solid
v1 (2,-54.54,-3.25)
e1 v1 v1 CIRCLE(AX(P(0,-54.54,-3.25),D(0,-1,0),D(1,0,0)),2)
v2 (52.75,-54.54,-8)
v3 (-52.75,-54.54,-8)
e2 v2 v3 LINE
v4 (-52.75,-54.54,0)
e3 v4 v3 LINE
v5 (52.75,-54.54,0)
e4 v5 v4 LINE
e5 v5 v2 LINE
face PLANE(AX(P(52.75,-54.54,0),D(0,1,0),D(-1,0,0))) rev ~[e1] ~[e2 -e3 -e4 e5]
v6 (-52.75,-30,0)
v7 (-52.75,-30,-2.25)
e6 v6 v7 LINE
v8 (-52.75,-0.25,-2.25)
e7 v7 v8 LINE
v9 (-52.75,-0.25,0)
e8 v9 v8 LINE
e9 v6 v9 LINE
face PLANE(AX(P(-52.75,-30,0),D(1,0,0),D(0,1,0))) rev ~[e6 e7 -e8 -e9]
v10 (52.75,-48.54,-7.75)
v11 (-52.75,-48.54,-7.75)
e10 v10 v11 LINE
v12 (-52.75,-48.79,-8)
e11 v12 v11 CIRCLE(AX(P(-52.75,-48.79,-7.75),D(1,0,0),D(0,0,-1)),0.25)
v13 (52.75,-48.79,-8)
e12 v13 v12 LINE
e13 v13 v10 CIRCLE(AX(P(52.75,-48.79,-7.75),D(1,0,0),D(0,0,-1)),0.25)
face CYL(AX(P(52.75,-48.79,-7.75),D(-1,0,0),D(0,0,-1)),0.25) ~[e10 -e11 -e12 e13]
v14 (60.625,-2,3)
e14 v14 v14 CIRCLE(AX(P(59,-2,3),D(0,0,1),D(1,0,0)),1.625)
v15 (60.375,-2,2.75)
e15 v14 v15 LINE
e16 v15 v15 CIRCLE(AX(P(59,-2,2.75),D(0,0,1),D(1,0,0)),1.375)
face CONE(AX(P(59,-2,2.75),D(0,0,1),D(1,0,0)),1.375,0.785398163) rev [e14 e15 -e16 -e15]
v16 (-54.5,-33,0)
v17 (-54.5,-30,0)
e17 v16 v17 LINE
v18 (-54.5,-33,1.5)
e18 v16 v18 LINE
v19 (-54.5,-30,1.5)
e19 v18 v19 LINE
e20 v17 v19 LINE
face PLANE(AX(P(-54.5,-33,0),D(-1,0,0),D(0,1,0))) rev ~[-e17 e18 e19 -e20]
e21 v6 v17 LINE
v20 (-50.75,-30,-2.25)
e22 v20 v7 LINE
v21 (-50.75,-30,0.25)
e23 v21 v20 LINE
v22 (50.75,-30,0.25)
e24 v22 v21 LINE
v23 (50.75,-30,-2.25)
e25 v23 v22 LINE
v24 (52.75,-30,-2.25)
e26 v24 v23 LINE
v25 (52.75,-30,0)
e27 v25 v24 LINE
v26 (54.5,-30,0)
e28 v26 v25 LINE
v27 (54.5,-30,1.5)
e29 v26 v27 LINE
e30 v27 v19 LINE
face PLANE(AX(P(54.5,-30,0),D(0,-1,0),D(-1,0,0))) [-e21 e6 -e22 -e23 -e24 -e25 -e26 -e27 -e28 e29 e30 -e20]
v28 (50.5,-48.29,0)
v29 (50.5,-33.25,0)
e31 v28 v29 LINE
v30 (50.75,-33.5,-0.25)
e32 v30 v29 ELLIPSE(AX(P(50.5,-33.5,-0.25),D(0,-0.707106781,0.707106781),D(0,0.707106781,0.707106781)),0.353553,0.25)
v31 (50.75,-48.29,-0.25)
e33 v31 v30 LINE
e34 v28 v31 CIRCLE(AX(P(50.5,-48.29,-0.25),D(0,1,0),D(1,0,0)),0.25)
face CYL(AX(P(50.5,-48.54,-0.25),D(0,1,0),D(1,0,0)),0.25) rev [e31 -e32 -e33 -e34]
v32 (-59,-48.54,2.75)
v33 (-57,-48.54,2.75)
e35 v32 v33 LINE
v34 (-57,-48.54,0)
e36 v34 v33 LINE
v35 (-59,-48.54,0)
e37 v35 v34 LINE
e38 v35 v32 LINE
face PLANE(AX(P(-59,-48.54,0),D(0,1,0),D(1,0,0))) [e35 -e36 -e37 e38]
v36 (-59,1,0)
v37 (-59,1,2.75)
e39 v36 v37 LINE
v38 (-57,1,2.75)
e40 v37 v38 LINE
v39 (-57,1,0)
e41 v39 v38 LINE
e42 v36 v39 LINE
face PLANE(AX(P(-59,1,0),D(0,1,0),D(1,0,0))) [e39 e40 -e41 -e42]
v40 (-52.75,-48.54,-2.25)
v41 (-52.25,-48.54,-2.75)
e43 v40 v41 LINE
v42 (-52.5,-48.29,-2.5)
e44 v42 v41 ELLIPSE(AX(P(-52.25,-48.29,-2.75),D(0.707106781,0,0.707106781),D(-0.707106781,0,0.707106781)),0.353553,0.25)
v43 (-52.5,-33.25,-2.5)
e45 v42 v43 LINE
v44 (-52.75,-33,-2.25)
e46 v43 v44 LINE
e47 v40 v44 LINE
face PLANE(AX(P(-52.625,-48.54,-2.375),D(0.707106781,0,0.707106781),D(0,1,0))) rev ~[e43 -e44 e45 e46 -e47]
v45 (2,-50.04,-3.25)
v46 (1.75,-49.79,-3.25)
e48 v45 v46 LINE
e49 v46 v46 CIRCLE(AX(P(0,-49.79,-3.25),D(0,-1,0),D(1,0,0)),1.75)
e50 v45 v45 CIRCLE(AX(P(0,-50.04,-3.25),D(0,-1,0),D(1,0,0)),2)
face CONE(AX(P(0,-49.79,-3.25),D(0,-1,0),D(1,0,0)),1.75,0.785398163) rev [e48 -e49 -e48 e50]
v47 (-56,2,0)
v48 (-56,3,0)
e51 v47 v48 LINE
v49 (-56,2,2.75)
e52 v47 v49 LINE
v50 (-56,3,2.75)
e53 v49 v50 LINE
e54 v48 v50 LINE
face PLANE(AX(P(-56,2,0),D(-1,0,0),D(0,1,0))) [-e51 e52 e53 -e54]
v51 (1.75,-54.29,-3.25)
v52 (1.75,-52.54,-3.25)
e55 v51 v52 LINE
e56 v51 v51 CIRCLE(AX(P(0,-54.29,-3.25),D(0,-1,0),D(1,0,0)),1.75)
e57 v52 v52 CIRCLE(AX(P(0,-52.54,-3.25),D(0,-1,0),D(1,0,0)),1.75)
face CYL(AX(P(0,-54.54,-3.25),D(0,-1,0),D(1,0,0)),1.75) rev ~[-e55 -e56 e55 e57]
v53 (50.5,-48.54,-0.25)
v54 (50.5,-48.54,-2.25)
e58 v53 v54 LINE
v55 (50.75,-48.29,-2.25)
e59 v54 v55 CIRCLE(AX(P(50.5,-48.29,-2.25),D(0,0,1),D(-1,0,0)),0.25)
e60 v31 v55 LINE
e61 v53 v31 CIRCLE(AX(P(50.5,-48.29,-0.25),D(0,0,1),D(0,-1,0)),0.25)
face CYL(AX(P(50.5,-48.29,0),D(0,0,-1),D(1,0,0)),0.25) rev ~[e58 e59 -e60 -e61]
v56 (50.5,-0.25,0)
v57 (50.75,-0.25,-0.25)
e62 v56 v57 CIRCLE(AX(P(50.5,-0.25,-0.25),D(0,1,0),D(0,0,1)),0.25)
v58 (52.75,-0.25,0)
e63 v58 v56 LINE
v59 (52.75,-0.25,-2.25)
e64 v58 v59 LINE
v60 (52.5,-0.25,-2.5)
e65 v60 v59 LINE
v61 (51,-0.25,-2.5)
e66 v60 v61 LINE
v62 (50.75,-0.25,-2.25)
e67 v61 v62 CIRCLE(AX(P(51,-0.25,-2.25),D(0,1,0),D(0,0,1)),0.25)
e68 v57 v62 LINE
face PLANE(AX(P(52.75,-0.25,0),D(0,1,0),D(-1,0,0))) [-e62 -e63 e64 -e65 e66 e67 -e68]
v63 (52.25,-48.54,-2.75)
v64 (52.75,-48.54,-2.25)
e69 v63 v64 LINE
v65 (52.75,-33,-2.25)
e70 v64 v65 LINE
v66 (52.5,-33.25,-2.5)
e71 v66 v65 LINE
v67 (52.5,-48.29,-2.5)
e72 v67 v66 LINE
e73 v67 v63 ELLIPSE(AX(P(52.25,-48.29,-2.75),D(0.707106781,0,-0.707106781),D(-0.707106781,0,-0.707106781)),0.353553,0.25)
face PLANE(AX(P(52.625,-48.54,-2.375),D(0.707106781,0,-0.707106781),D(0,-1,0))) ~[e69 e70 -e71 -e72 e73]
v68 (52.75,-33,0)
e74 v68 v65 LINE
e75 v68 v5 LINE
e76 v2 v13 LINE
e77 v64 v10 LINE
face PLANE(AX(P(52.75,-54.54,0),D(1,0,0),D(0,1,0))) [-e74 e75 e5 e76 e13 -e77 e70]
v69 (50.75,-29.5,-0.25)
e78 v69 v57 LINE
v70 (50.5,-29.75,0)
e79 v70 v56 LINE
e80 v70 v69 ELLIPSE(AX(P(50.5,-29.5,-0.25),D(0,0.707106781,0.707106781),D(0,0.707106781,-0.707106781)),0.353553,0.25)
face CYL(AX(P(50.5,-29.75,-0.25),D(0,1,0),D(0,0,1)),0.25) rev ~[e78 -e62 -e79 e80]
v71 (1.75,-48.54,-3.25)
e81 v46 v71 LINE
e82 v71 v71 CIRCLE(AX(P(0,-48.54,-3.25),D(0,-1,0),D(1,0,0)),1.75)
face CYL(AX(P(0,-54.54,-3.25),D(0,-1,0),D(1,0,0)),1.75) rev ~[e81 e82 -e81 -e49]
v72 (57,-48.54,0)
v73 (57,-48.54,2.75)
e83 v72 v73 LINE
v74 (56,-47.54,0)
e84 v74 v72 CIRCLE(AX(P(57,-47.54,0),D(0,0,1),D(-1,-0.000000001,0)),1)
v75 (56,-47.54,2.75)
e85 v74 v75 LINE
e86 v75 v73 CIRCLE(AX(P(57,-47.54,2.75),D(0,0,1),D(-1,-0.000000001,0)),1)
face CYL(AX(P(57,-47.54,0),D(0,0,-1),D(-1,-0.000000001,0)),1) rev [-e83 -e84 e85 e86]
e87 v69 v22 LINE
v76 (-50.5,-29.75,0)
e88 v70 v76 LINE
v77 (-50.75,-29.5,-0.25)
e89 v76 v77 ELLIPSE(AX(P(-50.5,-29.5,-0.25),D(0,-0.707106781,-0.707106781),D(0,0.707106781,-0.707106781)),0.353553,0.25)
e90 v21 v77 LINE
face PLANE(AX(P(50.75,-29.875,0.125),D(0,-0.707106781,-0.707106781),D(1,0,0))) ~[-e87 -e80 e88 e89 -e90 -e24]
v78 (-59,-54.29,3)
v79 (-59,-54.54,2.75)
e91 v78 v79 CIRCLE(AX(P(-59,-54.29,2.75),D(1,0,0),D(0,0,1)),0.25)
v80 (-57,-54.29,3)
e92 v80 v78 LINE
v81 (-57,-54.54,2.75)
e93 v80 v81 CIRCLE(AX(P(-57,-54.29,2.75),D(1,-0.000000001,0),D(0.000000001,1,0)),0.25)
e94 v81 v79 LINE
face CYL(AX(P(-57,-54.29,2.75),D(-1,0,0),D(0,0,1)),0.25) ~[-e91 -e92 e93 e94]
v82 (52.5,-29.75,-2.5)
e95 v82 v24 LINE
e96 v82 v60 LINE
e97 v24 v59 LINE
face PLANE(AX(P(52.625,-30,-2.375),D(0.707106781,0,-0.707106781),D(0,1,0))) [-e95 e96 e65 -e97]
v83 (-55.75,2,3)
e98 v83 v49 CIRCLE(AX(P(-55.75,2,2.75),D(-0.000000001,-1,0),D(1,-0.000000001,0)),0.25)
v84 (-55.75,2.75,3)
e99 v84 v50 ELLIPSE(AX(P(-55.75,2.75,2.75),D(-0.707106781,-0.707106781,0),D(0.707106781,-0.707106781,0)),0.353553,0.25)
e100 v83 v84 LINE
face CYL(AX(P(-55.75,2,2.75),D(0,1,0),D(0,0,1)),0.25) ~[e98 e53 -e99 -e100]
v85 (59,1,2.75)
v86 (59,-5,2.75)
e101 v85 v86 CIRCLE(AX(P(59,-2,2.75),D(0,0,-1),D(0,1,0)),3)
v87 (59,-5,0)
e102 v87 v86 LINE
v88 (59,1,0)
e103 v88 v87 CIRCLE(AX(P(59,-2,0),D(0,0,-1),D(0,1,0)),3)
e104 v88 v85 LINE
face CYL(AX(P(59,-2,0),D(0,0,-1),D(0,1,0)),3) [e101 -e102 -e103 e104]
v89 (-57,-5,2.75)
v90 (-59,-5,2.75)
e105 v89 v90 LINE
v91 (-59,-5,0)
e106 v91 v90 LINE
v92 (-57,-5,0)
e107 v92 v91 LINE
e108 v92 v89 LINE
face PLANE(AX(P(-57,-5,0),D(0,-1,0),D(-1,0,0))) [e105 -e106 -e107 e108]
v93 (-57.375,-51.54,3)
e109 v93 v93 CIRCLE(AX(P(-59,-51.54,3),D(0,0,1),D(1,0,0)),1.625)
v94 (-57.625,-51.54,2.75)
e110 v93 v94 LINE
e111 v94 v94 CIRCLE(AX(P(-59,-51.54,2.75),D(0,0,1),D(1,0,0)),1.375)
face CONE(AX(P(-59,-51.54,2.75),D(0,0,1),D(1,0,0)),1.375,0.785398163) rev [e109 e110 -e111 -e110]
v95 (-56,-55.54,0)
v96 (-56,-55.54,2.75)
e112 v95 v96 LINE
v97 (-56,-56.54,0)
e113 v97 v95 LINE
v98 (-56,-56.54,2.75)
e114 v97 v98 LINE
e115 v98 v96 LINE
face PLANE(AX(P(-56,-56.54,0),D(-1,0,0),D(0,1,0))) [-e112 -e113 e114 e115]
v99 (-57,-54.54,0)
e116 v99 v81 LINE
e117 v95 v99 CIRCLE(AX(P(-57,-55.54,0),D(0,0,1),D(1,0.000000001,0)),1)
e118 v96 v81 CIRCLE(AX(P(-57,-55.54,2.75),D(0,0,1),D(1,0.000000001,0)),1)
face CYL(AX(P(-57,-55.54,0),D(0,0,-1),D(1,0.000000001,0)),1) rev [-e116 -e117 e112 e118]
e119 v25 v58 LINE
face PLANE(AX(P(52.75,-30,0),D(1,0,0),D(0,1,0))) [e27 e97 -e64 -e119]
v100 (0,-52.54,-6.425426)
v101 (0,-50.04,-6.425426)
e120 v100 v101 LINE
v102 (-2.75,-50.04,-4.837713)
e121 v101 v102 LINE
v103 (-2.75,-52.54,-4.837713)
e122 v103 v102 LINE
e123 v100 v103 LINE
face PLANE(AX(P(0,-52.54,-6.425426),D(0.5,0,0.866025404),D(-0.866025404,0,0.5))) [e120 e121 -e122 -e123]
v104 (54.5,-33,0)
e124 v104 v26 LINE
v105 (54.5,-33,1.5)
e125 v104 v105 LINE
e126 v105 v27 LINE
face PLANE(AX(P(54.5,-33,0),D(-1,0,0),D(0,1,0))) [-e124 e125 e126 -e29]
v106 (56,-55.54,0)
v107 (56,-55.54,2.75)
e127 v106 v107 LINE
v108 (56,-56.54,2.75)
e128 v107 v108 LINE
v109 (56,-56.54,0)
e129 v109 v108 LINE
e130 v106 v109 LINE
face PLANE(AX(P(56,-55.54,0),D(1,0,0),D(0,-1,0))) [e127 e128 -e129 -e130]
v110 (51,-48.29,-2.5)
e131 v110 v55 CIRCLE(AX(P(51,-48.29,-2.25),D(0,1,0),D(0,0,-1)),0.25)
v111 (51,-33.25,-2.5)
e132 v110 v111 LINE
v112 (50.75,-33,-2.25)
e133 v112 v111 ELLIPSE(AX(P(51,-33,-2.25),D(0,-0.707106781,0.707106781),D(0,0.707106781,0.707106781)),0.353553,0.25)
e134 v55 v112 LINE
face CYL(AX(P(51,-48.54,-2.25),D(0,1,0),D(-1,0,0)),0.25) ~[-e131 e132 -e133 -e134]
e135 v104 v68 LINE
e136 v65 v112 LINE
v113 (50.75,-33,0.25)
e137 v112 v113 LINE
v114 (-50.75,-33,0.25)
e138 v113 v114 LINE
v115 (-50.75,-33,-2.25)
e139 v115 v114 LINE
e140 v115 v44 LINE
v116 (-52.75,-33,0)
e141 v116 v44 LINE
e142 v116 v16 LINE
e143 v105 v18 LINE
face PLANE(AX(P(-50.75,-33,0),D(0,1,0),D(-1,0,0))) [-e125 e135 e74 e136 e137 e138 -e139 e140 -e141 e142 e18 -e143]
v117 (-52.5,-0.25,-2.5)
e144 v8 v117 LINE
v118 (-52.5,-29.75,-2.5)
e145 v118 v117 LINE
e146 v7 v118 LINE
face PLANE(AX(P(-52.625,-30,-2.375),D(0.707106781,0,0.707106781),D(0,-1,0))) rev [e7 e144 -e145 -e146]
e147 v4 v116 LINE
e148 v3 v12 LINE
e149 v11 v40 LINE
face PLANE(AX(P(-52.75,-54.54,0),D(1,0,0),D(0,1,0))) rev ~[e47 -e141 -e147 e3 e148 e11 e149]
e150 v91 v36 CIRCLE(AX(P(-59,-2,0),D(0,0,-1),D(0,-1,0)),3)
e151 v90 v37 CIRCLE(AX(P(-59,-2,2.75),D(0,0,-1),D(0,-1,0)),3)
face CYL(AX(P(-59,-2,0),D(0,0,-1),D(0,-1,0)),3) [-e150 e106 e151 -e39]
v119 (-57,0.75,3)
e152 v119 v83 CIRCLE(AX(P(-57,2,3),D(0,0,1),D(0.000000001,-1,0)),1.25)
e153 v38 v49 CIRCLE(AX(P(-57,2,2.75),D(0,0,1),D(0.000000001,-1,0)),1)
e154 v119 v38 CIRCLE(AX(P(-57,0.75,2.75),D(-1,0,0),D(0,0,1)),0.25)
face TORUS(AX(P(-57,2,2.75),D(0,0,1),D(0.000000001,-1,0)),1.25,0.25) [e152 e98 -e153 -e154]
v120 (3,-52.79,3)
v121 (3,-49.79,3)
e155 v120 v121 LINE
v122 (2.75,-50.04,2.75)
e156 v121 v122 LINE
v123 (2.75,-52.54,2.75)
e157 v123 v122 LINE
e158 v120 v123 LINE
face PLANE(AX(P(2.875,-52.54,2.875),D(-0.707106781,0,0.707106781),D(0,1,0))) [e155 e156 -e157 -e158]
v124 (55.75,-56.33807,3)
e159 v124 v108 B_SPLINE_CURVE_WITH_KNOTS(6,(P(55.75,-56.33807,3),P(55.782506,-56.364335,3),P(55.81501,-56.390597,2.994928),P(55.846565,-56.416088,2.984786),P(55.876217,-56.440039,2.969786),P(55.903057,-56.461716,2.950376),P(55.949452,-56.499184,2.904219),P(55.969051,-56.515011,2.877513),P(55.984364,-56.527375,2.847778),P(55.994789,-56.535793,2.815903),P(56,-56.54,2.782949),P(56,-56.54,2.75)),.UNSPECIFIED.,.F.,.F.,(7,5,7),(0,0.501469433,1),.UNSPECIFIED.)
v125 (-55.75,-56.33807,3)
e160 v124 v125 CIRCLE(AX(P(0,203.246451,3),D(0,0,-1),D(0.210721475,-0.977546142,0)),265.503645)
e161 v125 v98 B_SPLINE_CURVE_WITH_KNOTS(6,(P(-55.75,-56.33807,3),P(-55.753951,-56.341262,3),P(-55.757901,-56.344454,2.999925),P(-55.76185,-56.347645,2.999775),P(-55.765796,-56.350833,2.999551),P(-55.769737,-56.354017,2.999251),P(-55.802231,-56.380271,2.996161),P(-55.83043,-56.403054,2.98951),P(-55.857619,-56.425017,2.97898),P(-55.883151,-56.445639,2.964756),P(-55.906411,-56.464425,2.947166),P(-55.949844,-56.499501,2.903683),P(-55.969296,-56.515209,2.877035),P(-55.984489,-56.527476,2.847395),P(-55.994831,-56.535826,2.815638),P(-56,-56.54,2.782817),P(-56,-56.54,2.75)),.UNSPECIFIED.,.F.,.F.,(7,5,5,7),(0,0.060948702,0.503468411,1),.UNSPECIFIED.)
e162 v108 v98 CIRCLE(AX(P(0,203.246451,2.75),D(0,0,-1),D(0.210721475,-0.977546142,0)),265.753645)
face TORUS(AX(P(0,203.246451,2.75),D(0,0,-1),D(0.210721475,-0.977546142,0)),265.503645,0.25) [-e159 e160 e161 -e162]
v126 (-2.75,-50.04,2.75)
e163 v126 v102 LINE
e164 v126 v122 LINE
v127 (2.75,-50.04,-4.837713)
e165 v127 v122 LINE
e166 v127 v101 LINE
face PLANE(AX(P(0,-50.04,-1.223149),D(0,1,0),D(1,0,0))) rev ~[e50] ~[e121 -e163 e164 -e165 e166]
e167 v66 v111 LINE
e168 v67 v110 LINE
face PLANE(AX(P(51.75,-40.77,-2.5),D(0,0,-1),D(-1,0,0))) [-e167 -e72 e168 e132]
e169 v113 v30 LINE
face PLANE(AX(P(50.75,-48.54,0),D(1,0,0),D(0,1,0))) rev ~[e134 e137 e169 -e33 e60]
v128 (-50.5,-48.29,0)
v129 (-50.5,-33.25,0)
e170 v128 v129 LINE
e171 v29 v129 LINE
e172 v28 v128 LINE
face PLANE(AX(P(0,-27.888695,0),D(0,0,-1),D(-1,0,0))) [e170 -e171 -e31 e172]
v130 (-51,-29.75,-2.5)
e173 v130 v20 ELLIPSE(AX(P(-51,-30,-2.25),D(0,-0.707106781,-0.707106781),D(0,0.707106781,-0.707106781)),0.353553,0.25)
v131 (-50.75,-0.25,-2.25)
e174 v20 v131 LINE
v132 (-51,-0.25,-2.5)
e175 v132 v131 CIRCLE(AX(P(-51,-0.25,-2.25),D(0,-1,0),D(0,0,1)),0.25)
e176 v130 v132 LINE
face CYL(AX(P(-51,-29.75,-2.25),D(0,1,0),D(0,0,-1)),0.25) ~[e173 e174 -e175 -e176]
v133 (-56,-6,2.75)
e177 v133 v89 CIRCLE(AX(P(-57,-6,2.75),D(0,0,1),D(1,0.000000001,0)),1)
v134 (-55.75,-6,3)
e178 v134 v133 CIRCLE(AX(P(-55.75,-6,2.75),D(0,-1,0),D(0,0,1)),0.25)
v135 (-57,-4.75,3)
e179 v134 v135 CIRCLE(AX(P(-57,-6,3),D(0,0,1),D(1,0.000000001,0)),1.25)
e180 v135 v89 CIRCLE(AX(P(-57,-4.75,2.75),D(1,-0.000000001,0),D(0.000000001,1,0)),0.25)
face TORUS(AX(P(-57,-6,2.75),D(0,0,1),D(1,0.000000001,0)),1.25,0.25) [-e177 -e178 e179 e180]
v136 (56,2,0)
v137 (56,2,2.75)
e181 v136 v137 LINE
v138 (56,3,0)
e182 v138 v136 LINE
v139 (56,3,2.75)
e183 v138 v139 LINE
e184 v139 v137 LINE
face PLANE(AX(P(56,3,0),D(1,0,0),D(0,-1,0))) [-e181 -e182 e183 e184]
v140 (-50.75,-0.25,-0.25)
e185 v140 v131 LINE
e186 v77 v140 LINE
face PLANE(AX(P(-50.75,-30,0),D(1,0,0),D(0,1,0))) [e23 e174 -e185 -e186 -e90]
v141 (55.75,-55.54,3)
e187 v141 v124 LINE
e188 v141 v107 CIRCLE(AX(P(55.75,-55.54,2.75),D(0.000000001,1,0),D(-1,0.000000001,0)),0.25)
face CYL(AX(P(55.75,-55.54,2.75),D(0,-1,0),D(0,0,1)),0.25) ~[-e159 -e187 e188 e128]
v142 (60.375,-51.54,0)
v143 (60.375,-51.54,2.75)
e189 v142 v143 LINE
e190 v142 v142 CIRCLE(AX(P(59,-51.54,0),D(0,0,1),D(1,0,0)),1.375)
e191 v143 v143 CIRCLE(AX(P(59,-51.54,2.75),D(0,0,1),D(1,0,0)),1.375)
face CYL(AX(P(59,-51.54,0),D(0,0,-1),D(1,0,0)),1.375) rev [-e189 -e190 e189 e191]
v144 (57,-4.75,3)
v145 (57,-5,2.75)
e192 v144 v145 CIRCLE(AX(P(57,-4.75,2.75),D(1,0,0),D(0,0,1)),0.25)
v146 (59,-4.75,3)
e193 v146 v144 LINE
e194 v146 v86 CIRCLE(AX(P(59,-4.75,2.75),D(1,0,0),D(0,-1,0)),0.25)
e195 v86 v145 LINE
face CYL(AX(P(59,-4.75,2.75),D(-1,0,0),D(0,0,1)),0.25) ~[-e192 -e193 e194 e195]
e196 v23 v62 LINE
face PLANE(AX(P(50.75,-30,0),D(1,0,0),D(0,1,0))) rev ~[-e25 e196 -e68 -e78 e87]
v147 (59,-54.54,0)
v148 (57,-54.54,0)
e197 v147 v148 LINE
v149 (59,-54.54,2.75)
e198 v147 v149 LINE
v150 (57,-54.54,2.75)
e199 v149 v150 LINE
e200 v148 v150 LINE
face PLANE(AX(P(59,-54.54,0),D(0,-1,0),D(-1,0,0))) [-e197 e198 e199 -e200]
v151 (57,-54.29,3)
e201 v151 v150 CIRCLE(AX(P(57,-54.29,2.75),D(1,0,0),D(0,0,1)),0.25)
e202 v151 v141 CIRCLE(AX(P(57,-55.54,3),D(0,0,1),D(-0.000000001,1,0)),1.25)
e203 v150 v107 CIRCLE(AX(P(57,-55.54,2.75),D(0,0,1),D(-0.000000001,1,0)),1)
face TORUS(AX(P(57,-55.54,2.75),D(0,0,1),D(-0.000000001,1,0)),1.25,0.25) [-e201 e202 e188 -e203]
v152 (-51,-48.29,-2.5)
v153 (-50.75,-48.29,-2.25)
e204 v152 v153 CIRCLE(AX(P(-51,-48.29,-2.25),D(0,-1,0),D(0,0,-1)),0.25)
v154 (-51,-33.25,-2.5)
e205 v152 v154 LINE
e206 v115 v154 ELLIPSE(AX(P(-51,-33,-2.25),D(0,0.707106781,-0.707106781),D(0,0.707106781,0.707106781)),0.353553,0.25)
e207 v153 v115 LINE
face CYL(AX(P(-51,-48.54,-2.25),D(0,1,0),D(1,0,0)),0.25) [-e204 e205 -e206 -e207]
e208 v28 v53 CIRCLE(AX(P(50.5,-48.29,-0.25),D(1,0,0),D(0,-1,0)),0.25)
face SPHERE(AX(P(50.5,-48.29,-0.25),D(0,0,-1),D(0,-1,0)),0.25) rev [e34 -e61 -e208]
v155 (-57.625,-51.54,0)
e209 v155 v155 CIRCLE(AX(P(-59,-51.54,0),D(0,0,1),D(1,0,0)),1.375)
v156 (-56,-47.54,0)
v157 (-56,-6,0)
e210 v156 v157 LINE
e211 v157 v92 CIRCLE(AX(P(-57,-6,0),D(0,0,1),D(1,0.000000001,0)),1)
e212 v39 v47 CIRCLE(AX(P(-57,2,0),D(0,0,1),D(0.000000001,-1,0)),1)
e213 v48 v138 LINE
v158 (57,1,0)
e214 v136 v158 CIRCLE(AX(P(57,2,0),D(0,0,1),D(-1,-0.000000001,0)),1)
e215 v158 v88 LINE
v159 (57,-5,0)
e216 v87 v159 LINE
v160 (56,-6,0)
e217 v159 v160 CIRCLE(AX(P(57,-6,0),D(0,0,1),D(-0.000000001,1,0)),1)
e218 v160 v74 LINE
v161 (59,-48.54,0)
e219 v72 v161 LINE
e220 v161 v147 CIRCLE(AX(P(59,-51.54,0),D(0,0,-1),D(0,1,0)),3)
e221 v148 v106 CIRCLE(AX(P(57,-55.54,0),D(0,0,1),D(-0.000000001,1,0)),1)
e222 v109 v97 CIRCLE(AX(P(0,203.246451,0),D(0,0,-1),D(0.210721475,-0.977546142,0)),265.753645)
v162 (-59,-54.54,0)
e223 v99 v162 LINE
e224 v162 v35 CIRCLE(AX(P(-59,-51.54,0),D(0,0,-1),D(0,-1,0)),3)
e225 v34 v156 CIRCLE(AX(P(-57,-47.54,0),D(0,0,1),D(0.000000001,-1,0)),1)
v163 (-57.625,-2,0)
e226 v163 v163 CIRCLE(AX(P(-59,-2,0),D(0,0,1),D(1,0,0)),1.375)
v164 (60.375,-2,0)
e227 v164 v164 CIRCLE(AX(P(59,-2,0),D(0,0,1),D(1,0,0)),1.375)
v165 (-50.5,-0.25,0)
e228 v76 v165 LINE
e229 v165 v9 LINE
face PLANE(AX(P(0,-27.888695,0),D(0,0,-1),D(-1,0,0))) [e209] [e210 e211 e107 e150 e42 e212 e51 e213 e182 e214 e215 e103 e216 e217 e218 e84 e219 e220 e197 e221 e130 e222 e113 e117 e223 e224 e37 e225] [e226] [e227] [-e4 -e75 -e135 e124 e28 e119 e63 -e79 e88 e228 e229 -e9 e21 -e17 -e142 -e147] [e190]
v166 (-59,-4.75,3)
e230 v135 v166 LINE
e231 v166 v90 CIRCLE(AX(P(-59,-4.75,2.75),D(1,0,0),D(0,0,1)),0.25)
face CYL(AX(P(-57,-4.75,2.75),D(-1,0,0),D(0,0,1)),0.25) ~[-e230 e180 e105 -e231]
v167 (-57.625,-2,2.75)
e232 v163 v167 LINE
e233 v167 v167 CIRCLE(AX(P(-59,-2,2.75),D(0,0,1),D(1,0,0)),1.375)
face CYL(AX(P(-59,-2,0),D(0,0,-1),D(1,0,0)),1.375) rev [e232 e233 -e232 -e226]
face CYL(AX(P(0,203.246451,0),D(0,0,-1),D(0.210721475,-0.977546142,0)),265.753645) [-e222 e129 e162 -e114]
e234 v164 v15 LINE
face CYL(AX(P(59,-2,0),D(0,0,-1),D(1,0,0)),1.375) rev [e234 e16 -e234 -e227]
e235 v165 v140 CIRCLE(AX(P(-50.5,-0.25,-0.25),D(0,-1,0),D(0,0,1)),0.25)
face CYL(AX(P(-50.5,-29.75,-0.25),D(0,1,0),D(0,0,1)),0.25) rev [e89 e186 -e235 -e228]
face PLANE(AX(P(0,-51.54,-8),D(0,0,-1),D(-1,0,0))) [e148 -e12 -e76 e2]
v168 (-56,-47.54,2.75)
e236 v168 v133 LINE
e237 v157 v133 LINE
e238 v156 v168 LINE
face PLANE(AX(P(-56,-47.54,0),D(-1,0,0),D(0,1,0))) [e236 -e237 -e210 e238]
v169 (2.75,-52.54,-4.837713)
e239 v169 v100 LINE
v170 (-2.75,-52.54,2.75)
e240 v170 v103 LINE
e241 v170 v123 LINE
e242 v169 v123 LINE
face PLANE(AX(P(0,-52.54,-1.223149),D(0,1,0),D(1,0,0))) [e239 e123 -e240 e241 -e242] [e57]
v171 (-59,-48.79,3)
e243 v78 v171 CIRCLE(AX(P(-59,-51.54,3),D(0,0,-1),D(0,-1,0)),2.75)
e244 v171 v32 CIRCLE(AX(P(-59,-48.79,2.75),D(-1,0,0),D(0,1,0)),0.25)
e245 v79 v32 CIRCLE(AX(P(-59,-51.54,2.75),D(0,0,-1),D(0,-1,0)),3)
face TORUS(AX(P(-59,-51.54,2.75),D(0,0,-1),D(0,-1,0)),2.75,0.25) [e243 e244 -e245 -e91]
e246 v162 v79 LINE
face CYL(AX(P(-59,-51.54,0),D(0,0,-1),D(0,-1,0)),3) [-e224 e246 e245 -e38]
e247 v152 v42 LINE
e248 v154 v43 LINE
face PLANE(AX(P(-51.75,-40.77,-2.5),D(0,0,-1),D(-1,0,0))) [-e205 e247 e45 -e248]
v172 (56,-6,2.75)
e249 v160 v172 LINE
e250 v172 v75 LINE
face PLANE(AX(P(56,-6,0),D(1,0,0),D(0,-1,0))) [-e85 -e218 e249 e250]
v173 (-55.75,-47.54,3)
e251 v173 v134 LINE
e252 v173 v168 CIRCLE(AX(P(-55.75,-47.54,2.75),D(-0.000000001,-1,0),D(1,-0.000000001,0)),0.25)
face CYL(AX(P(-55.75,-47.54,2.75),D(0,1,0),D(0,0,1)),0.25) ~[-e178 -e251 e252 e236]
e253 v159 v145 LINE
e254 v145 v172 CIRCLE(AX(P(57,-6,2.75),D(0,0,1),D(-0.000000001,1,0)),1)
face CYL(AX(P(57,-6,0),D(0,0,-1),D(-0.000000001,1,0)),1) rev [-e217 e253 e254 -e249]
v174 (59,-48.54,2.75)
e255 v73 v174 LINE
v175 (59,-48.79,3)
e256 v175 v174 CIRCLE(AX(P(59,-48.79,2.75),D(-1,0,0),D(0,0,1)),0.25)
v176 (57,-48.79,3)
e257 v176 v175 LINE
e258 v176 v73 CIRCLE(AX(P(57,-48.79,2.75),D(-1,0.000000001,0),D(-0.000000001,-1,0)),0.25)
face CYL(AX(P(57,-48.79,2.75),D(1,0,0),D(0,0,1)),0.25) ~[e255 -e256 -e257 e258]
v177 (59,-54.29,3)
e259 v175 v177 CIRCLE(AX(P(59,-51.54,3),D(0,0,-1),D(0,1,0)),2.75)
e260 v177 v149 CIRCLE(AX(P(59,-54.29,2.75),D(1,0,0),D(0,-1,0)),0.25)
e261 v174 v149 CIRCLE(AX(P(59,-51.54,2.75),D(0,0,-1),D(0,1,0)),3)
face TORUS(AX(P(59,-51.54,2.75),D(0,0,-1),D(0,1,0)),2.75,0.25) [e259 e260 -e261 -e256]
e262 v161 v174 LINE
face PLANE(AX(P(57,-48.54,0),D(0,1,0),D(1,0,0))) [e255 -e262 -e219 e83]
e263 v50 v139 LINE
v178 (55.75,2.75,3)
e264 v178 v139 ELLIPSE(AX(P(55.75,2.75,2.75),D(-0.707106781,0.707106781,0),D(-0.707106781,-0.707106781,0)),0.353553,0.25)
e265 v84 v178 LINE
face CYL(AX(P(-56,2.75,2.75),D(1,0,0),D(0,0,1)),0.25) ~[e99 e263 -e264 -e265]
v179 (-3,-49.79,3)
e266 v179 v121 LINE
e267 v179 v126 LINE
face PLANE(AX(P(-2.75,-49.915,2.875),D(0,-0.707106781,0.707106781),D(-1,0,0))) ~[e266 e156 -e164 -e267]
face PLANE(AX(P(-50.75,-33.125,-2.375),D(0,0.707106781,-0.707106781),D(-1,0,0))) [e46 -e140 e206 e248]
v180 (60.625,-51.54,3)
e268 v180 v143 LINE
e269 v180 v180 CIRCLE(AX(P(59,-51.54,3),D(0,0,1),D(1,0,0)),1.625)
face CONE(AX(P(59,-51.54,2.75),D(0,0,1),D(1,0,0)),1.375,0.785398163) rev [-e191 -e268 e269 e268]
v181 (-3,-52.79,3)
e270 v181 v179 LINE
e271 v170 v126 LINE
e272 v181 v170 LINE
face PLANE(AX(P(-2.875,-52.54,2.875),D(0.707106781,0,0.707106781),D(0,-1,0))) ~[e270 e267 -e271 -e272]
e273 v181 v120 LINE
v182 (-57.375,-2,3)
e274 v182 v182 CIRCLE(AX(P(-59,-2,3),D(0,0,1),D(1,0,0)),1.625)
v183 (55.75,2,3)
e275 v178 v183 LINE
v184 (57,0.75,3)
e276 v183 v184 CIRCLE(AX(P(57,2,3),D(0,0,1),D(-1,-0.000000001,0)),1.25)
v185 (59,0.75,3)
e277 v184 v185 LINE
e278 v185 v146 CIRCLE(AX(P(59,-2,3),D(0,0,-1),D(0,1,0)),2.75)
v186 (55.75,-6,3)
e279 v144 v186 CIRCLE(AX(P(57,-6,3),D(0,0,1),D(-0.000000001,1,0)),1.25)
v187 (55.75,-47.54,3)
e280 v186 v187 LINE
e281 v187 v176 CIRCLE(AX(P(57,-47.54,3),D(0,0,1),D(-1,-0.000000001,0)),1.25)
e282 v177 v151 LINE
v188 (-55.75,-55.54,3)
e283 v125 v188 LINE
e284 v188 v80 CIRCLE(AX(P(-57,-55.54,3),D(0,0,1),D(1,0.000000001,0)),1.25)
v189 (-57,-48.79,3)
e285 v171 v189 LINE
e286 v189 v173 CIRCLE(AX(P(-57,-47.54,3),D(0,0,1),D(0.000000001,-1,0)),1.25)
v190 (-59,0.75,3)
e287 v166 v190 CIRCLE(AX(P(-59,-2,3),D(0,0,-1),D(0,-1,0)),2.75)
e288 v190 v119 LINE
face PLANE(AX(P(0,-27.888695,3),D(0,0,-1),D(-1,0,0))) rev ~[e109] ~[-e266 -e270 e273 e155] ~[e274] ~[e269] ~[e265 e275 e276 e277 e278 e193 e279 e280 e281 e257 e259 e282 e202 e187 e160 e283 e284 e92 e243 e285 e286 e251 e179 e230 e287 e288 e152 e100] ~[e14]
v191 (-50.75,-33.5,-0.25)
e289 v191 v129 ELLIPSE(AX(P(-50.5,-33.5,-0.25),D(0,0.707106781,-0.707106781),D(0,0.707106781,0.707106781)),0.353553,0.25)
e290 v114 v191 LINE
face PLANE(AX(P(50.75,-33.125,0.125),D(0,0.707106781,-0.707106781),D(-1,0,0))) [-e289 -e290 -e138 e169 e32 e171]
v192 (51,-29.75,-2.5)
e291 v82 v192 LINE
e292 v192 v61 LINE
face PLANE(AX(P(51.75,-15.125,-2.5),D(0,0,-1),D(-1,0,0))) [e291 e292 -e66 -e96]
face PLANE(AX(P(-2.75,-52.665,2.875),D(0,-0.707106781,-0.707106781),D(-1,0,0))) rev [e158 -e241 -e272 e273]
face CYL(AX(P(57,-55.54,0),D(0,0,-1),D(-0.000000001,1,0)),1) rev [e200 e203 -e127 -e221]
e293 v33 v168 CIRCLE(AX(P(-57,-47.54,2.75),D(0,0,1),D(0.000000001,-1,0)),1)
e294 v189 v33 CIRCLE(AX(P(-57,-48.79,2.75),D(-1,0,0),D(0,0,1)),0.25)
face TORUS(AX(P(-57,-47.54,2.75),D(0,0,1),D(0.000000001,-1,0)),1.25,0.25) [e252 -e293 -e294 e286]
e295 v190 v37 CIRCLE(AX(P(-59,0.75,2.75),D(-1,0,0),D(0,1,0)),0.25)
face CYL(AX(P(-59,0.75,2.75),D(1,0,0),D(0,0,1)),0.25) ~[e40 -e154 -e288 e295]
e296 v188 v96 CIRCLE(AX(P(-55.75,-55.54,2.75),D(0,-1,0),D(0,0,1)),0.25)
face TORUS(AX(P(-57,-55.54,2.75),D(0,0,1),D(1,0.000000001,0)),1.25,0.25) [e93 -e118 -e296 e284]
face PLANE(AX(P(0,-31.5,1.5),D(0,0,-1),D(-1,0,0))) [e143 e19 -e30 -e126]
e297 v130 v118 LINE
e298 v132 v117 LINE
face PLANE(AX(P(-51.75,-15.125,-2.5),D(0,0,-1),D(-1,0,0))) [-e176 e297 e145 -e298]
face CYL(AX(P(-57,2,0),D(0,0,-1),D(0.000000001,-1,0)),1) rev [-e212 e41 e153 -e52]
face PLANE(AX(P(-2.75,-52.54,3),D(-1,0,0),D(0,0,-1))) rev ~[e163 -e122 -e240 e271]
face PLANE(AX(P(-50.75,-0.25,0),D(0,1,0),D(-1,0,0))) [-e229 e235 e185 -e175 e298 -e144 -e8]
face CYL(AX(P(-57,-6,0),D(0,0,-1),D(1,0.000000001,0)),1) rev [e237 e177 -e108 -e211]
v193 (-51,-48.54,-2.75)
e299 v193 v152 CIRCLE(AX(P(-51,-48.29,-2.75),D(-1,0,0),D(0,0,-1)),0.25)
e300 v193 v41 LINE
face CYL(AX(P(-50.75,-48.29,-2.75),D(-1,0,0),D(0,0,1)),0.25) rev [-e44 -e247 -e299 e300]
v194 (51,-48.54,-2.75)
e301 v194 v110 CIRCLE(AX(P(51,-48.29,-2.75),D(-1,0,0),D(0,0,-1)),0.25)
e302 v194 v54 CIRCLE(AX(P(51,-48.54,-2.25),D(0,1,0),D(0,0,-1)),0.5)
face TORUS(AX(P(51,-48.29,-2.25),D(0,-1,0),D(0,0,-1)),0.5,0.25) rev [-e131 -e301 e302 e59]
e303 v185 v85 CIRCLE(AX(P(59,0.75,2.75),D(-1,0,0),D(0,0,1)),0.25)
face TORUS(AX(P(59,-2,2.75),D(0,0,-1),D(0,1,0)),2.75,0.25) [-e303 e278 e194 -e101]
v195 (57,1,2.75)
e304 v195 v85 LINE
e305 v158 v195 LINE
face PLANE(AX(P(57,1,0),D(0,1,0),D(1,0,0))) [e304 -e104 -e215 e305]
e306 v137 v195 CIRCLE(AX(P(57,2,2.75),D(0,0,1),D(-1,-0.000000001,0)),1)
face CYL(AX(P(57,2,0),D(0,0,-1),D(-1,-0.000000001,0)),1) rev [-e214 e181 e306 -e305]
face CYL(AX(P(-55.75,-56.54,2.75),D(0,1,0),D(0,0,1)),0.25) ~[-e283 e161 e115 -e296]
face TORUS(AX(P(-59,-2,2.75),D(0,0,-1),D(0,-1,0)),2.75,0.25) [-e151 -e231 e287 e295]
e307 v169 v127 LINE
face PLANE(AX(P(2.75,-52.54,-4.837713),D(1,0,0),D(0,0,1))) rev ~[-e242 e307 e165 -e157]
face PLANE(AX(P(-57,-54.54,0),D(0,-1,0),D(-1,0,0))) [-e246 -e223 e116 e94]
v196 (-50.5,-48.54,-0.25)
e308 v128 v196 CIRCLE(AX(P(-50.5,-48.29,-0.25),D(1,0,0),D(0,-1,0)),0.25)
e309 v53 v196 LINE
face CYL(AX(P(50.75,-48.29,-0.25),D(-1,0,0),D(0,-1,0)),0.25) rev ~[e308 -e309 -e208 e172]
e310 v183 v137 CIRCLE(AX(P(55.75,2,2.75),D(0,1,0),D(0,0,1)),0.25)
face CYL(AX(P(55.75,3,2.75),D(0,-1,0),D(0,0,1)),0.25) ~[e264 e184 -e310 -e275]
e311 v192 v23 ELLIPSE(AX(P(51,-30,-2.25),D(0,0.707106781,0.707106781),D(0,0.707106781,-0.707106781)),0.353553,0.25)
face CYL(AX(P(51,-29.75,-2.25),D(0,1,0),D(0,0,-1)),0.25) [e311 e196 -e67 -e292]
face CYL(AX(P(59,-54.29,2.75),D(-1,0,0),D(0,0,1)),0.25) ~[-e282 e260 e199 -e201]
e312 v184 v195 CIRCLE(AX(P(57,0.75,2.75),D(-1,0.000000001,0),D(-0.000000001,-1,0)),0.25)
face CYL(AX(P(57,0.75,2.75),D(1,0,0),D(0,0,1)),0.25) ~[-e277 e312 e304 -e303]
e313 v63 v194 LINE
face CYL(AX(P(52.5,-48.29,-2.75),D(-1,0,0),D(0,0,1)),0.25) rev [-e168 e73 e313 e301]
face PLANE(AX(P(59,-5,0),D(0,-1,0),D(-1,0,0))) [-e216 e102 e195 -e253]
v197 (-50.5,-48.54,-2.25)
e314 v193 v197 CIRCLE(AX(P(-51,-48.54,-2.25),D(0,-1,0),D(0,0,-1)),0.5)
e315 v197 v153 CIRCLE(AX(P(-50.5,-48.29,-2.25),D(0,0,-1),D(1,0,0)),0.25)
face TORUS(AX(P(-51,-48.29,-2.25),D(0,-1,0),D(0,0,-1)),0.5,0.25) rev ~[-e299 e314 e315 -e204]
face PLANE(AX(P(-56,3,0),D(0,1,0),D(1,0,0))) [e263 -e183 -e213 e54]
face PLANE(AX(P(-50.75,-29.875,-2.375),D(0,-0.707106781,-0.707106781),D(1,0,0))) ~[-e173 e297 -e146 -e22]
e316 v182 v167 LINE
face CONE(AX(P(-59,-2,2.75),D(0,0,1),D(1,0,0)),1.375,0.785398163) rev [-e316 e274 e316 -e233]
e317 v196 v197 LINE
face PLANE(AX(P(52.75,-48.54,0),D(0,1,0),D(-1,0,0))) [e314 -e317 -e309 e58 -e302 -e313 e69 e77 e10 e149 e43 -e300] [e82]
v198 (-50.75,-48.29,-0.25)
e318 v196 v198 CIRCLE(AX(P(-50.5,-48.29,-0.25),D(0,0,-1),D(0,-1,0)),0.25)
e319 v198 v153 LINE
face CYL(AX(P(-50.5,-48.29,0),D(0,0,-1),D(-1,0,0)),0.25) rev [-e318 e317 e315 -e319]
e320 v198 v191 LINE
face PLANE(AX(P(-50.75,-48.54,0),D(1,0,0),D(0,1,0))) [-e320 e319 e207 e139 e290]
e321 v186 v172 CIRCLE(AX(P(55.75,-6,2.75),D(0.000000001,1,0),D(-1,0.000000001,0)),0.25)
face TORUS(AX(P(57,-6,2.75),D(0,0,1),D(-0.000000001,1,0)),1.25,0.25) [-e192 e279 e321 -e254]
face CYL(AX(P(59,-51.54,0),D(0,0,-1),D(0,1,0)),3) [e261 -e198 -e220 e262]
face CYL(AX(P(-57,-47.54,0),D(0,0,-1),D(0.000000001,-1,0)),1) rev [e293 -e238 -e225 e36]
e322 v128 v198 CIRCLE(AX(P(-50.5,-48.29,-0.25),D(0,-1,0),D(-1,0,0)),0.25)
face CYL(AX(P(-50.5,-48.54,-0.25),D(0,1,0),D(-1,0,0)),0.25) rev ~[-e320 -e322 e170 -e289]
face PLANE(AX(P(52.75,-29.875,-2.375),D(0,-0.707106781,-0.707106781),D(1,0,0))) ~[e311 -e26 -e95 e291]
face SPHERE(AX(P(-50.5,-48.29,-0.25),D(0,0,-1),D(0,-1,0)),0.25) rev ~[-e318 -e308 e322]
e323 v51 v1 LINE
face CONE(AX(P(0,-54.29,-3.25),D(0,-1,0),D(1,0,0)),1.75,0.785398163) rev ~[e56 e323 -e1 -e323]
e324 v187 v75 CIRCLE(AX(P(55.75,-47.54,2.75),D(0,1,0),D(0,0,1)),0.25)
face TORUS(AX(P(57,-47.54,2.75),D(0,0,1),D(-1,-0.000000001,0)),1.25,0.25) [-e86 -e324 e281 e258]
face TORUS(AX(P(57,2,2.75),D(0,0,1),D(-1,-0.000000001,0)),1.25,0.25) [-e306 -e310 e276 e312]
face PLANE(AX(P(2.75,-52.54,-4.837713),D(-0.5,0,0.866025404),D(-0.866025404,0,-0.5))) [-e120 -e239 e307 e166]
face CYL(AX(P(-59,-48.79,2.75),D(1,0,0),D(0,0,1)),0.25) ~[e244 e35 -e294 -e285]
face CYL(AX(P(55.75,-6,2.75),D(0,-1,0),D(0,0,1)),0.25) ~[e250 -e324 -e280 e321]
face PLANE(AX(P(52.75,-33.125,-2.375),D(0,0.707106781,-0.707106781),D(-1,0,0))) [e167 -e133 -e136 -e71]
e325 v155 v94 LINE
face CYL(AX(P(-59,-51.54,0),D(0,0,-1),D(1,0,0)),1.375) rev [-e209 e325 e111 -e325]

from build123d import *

# Parameters (mm, degrees)
SKETCH1_R           = 1.375
BOSS_EXTRUDE1_DEPTH = 3
SKETCH2_W           = 109
SKETCH2_H           = 3
CUT_EXTRUDE1_DEPTH  = 1.5
CHAMFER1_SIZE       = 0.25
FILLET1_R           = 0.25
SKETCH3_W           = 105.5
SKETCH3_H           = 6
BOSS_EXTRUDE2_DEPTH = 8
SKETCH4_R           = 1.75
CUT_EXTRUDE2_DEPTH  = 58.54
CUT_EXTRUDE3_DEPTH  = 2.5
SKETCH7_W           = 2
SKETCH7_H           = 15.54
SKETCH7_H_2         = 29.75
BOSS_EXTRUDE3_DEPTH = 2.5
CHAMFER2_SIZE       = 0.25
FILLET3_R           = 0.25


with BuildPart() as part:
    # Sketch1 → Boss-Extrude1 (new body)
    with BuildSketch(Plane.XY):
        with BuildLine():
            Line((-56, 3), (56, 3))
            Line((56, 3), (56, 2))
            ThreePointArc((56, 2), (56.292893219, 1.292893219), (57, 1))
            Line((57, 1), (59, 1))
            ThreePointArc((59, 1), (62, -2), (59, -5))
            Line((59, -5), (57, -5))
            ThreePointArc((57, -5), (56.292893219, -5.292893219), (56, -6))
            Line((56, -6), (56, -47.54))
            ThreePointArc((56, -47.54), (56.292893219, -48.247106781), (57, -48.54))
            Line((57, -48.54), (59, -48.54))
            ThreePointArc((59, -48.54), (62, -51.54), (59, -54.54))
            Line((59, -54.54), (57, -54.54))
            ThreePointArc((57, -54.54), (56.292893219, -54.832893219), (56, -55.54))
            Line((56, -55.54), (56, -56.54))
            ThreePointArc((56, -56.54), (0, -62.507194555), (-56, -56.54))
            Line((-56, -56.54), (-56, -55.54))
            ThreePointArc((-56, -55.54), (-56.292893219, -54.832893219), (-57, -54.54))
            Line((-57, -54.54), (-59, -54.54))
            ThreePointArc((-59, -54.54), (-62, -51.54), (-59, -48.54))
            Line((-59, -48.54), (-57, -48.54))
            ThreePointArc((-57, -48.54), (-56.292893219, -48.247106781), (-56, -47.54))
            Line((-56, -47.54), (-56, -6))
            ThreePointArc((-56, -6), (-56.292893219, -5.292893219), (-57, -5))
            Line((-57, -5), (-59, -5))
            ThreePointArc((-59, -5), (-62, -2), (-59, 1))
            Line((-59, 1), (-57, 1))
            ThreePointArc((-57, 1), (-56.292893219, 1.292893219), (-56, 2))
            Line((-56, 2), (-56, 3))
        make_face()
        with Locations((-59, -2)):
            Circle(SKETCH1_R, mode=Mode.SUBTRACT)
        with Locations((-59, -51.54)):
            Circle(SKETCH1_R, mode=Mode.SUBTRACT)
        with Locations((59, -51.54)):
            Circle(SKETCH1_R, mode=Mode.SUBTRACT)
        with Locations((59, -2)):
            Circle(SKETCH1_R, mode=Mode.SUBTRACT)
    extrude(amount=BOSS_EXTRUDE1_DEPTH)

    # Sketch2 → Cut-Extrude1 (cut)
    with BuildSketch(Plane(origin=(0, 0, 0), x_dir=(-1, 0, 0), z_dir=(0, 0, -1))):
        with Locations((0, -31.5)):
            Rectangle(SKETCH2_W, SKETCH2_H)
    extrude(amount=-CUT_EXTRUDE1_DEPTH, mode=Mode.SUBTRACT)

    # Chamfer1
    chamfer1_edges = [part.edges().sort_by_distance(p)[0] for p in [
        (-60.375, -2, 3),
        (-60.375, -51.54, 3),
        (57.625, -51.54, 3),
        (57.625, -2, 3),
    ]]
    chamfer(chamfer1_edges, length=CHAMFER1_SIZE)

    # Fillet1
    fillet1_edges = [part.edges().sort_by_distance(p)[0] for p in [
        (58, 1, 3),
        (56.292893219, 1.292893219, 3),
        (56, 2.5, 3),
        (0, 3, 3),
        (-58, 1, 3),
        (-62, -2, 3),
        (-58, -5, 3),
        (-56.292893219, -5.292893219, 3),
        (-56, -26.77, 3),
        (-56.292893219, -48.247106781, 3),
        (-58, -48.54, 3),
        (-62, -51.54, 3),
        (-58, -54.54, 3),
        (-56.292893219, -54.832893219, 3),
        (-56, 2.5, 3),
        (-56, -56.04, 3),
        (0, -62.507194555, 3),
        (56, -56.04, 3),
        (56.292893219, -54.832893219, 3),
        (58, -54.54, 3),
        (62, -51.54, 3),
        (58, -48.54, 3),
        (56.292893219, -48.247106781, 3),
        (56, -26.77, 3),
        (56.292893219, -5.292893219, 3),
        (-56.292893219, 1.292893219, 3),
        (58, -5, 3),
        (62, -2, 3),
    ]]
    fillet(fillet1_edges, radius=FILLET1_R)

    # Sketch3 → Boss-Extrude2 (add)
    with BuildSketch(Plane(origin=(0, 0, 0), x_dir=(-1, 0, 0), z_dir=(0, 0, -1))):
        with Locations((0, -51.54)):
            Rectangle(SKETCH3_W, SKETCH3_H)
    extrude(amount=BOSS_EXTRUDE2_DEPTH)

    # Sketch4 → Cut-Extrude2 (cut, through all)
    with BuildSketch(Plane.XZ.offset(54.54)):
        with Locations((0, -3.25)):
            Circle(SKETCH4_R)
    extrude(amount=-CUT_EXTRUDE2_DEPTH, mode=Mode.SUBTRACT)

    # Sketch6 → Cut-Extrude3 (cut)
    with BuildSketch(Plane(origin=(0, -52.54, 0), x_dir=(-1, 0, 0), z_dir=(0, -1, 0))):
        Polygon((2.75, 1.66228676), (2.75, -3), (-2.75, -3), (-2.75, 1.66228676), (-2.75, 4.83771324), (0, 6.425426481), (2.75, 4.83771324), align=None)
    extrude(amount=-CUT_EXTRUDE3_DEPTH, mode=Mode.SUBTRACT)

    # Sketch7 → Boss-Extrude3 (add)
    with BuildSketch(Plane(origin=(0, 0, 0), x_dir=(-1, 0, 0), z_dir=(0, 0, -1))):
        with Locations((51.75, -40.77)):
            Rectangle(SKETCH7_W, SKETCH7_H)
        with Locations((51.75, -15.125)):
            Rectangle(SKETCH7_W, SKETCH7_H_2)
        with Locations((-51.75, -15.125)):
            Rectangle(SKETCH7_W, SKETCH7_H_2)
        with Locations((-51.75, -40.77)):
            Rectangle(SKETCH7_W, SKETCH7_H)
    extrude(amount=BOSS_EXTRUDE3_DEPTH)

    # Chamfer2
    chamfer2_edges = [part.edges().sort_by_distance(p)[0] for p in [
        (-1.75, -54.54, -3.25),
        (0, -52.54, 3),
        (2.75, -51.29, 3),
        (0, -50.04, 3),
        (-2.75, -51.29, 3),
        (-1.75, -50.04, -3.25),
        (-52.75, -40.77, -2.5),
        (-51.75, -33, -2.5),
        (0, -30, 0),
        (-52.75, -15.125, -2.5),
        (-51.75, -30, -2.5),
        (51.75, -30, -2.5),
        (52.75, -15.125, -2.5),
        (0, -33, 0),
        (51.75, -33, -2.5),
        (52.75, -40.77, -2.5),
    ]]
    chamfer(chamfer2_edges, length=CHAMFER2_SIZE)

    # Fillet3
    fillet3_edges = [part.edges().sort_by_distance(p)[0] for p in [
        (-51.625, -48.54, -2.5),
        (-50.75, -48.54, -1.25),
        (51.625, -48.54, -2.5),
        (50.75, -48.54, -1.25),
        (0, -48.54, 0),
        (0, -48.54, -8),
        (50.75, -40.895, 0),
        (50.75, -15, 0),
        (50.75, -15, -2.5),
        (50.75, -40.895, -2.5),
        (-50.75, -15, -2.5),
        (-50.75, -15, 0),
        (-50.75, -40.895, 0),
        (-50.75, -40.895, -2.5),
    ]]
    fillet(fillet3_edges, radius=FILLET3_R)


solid = part.part
